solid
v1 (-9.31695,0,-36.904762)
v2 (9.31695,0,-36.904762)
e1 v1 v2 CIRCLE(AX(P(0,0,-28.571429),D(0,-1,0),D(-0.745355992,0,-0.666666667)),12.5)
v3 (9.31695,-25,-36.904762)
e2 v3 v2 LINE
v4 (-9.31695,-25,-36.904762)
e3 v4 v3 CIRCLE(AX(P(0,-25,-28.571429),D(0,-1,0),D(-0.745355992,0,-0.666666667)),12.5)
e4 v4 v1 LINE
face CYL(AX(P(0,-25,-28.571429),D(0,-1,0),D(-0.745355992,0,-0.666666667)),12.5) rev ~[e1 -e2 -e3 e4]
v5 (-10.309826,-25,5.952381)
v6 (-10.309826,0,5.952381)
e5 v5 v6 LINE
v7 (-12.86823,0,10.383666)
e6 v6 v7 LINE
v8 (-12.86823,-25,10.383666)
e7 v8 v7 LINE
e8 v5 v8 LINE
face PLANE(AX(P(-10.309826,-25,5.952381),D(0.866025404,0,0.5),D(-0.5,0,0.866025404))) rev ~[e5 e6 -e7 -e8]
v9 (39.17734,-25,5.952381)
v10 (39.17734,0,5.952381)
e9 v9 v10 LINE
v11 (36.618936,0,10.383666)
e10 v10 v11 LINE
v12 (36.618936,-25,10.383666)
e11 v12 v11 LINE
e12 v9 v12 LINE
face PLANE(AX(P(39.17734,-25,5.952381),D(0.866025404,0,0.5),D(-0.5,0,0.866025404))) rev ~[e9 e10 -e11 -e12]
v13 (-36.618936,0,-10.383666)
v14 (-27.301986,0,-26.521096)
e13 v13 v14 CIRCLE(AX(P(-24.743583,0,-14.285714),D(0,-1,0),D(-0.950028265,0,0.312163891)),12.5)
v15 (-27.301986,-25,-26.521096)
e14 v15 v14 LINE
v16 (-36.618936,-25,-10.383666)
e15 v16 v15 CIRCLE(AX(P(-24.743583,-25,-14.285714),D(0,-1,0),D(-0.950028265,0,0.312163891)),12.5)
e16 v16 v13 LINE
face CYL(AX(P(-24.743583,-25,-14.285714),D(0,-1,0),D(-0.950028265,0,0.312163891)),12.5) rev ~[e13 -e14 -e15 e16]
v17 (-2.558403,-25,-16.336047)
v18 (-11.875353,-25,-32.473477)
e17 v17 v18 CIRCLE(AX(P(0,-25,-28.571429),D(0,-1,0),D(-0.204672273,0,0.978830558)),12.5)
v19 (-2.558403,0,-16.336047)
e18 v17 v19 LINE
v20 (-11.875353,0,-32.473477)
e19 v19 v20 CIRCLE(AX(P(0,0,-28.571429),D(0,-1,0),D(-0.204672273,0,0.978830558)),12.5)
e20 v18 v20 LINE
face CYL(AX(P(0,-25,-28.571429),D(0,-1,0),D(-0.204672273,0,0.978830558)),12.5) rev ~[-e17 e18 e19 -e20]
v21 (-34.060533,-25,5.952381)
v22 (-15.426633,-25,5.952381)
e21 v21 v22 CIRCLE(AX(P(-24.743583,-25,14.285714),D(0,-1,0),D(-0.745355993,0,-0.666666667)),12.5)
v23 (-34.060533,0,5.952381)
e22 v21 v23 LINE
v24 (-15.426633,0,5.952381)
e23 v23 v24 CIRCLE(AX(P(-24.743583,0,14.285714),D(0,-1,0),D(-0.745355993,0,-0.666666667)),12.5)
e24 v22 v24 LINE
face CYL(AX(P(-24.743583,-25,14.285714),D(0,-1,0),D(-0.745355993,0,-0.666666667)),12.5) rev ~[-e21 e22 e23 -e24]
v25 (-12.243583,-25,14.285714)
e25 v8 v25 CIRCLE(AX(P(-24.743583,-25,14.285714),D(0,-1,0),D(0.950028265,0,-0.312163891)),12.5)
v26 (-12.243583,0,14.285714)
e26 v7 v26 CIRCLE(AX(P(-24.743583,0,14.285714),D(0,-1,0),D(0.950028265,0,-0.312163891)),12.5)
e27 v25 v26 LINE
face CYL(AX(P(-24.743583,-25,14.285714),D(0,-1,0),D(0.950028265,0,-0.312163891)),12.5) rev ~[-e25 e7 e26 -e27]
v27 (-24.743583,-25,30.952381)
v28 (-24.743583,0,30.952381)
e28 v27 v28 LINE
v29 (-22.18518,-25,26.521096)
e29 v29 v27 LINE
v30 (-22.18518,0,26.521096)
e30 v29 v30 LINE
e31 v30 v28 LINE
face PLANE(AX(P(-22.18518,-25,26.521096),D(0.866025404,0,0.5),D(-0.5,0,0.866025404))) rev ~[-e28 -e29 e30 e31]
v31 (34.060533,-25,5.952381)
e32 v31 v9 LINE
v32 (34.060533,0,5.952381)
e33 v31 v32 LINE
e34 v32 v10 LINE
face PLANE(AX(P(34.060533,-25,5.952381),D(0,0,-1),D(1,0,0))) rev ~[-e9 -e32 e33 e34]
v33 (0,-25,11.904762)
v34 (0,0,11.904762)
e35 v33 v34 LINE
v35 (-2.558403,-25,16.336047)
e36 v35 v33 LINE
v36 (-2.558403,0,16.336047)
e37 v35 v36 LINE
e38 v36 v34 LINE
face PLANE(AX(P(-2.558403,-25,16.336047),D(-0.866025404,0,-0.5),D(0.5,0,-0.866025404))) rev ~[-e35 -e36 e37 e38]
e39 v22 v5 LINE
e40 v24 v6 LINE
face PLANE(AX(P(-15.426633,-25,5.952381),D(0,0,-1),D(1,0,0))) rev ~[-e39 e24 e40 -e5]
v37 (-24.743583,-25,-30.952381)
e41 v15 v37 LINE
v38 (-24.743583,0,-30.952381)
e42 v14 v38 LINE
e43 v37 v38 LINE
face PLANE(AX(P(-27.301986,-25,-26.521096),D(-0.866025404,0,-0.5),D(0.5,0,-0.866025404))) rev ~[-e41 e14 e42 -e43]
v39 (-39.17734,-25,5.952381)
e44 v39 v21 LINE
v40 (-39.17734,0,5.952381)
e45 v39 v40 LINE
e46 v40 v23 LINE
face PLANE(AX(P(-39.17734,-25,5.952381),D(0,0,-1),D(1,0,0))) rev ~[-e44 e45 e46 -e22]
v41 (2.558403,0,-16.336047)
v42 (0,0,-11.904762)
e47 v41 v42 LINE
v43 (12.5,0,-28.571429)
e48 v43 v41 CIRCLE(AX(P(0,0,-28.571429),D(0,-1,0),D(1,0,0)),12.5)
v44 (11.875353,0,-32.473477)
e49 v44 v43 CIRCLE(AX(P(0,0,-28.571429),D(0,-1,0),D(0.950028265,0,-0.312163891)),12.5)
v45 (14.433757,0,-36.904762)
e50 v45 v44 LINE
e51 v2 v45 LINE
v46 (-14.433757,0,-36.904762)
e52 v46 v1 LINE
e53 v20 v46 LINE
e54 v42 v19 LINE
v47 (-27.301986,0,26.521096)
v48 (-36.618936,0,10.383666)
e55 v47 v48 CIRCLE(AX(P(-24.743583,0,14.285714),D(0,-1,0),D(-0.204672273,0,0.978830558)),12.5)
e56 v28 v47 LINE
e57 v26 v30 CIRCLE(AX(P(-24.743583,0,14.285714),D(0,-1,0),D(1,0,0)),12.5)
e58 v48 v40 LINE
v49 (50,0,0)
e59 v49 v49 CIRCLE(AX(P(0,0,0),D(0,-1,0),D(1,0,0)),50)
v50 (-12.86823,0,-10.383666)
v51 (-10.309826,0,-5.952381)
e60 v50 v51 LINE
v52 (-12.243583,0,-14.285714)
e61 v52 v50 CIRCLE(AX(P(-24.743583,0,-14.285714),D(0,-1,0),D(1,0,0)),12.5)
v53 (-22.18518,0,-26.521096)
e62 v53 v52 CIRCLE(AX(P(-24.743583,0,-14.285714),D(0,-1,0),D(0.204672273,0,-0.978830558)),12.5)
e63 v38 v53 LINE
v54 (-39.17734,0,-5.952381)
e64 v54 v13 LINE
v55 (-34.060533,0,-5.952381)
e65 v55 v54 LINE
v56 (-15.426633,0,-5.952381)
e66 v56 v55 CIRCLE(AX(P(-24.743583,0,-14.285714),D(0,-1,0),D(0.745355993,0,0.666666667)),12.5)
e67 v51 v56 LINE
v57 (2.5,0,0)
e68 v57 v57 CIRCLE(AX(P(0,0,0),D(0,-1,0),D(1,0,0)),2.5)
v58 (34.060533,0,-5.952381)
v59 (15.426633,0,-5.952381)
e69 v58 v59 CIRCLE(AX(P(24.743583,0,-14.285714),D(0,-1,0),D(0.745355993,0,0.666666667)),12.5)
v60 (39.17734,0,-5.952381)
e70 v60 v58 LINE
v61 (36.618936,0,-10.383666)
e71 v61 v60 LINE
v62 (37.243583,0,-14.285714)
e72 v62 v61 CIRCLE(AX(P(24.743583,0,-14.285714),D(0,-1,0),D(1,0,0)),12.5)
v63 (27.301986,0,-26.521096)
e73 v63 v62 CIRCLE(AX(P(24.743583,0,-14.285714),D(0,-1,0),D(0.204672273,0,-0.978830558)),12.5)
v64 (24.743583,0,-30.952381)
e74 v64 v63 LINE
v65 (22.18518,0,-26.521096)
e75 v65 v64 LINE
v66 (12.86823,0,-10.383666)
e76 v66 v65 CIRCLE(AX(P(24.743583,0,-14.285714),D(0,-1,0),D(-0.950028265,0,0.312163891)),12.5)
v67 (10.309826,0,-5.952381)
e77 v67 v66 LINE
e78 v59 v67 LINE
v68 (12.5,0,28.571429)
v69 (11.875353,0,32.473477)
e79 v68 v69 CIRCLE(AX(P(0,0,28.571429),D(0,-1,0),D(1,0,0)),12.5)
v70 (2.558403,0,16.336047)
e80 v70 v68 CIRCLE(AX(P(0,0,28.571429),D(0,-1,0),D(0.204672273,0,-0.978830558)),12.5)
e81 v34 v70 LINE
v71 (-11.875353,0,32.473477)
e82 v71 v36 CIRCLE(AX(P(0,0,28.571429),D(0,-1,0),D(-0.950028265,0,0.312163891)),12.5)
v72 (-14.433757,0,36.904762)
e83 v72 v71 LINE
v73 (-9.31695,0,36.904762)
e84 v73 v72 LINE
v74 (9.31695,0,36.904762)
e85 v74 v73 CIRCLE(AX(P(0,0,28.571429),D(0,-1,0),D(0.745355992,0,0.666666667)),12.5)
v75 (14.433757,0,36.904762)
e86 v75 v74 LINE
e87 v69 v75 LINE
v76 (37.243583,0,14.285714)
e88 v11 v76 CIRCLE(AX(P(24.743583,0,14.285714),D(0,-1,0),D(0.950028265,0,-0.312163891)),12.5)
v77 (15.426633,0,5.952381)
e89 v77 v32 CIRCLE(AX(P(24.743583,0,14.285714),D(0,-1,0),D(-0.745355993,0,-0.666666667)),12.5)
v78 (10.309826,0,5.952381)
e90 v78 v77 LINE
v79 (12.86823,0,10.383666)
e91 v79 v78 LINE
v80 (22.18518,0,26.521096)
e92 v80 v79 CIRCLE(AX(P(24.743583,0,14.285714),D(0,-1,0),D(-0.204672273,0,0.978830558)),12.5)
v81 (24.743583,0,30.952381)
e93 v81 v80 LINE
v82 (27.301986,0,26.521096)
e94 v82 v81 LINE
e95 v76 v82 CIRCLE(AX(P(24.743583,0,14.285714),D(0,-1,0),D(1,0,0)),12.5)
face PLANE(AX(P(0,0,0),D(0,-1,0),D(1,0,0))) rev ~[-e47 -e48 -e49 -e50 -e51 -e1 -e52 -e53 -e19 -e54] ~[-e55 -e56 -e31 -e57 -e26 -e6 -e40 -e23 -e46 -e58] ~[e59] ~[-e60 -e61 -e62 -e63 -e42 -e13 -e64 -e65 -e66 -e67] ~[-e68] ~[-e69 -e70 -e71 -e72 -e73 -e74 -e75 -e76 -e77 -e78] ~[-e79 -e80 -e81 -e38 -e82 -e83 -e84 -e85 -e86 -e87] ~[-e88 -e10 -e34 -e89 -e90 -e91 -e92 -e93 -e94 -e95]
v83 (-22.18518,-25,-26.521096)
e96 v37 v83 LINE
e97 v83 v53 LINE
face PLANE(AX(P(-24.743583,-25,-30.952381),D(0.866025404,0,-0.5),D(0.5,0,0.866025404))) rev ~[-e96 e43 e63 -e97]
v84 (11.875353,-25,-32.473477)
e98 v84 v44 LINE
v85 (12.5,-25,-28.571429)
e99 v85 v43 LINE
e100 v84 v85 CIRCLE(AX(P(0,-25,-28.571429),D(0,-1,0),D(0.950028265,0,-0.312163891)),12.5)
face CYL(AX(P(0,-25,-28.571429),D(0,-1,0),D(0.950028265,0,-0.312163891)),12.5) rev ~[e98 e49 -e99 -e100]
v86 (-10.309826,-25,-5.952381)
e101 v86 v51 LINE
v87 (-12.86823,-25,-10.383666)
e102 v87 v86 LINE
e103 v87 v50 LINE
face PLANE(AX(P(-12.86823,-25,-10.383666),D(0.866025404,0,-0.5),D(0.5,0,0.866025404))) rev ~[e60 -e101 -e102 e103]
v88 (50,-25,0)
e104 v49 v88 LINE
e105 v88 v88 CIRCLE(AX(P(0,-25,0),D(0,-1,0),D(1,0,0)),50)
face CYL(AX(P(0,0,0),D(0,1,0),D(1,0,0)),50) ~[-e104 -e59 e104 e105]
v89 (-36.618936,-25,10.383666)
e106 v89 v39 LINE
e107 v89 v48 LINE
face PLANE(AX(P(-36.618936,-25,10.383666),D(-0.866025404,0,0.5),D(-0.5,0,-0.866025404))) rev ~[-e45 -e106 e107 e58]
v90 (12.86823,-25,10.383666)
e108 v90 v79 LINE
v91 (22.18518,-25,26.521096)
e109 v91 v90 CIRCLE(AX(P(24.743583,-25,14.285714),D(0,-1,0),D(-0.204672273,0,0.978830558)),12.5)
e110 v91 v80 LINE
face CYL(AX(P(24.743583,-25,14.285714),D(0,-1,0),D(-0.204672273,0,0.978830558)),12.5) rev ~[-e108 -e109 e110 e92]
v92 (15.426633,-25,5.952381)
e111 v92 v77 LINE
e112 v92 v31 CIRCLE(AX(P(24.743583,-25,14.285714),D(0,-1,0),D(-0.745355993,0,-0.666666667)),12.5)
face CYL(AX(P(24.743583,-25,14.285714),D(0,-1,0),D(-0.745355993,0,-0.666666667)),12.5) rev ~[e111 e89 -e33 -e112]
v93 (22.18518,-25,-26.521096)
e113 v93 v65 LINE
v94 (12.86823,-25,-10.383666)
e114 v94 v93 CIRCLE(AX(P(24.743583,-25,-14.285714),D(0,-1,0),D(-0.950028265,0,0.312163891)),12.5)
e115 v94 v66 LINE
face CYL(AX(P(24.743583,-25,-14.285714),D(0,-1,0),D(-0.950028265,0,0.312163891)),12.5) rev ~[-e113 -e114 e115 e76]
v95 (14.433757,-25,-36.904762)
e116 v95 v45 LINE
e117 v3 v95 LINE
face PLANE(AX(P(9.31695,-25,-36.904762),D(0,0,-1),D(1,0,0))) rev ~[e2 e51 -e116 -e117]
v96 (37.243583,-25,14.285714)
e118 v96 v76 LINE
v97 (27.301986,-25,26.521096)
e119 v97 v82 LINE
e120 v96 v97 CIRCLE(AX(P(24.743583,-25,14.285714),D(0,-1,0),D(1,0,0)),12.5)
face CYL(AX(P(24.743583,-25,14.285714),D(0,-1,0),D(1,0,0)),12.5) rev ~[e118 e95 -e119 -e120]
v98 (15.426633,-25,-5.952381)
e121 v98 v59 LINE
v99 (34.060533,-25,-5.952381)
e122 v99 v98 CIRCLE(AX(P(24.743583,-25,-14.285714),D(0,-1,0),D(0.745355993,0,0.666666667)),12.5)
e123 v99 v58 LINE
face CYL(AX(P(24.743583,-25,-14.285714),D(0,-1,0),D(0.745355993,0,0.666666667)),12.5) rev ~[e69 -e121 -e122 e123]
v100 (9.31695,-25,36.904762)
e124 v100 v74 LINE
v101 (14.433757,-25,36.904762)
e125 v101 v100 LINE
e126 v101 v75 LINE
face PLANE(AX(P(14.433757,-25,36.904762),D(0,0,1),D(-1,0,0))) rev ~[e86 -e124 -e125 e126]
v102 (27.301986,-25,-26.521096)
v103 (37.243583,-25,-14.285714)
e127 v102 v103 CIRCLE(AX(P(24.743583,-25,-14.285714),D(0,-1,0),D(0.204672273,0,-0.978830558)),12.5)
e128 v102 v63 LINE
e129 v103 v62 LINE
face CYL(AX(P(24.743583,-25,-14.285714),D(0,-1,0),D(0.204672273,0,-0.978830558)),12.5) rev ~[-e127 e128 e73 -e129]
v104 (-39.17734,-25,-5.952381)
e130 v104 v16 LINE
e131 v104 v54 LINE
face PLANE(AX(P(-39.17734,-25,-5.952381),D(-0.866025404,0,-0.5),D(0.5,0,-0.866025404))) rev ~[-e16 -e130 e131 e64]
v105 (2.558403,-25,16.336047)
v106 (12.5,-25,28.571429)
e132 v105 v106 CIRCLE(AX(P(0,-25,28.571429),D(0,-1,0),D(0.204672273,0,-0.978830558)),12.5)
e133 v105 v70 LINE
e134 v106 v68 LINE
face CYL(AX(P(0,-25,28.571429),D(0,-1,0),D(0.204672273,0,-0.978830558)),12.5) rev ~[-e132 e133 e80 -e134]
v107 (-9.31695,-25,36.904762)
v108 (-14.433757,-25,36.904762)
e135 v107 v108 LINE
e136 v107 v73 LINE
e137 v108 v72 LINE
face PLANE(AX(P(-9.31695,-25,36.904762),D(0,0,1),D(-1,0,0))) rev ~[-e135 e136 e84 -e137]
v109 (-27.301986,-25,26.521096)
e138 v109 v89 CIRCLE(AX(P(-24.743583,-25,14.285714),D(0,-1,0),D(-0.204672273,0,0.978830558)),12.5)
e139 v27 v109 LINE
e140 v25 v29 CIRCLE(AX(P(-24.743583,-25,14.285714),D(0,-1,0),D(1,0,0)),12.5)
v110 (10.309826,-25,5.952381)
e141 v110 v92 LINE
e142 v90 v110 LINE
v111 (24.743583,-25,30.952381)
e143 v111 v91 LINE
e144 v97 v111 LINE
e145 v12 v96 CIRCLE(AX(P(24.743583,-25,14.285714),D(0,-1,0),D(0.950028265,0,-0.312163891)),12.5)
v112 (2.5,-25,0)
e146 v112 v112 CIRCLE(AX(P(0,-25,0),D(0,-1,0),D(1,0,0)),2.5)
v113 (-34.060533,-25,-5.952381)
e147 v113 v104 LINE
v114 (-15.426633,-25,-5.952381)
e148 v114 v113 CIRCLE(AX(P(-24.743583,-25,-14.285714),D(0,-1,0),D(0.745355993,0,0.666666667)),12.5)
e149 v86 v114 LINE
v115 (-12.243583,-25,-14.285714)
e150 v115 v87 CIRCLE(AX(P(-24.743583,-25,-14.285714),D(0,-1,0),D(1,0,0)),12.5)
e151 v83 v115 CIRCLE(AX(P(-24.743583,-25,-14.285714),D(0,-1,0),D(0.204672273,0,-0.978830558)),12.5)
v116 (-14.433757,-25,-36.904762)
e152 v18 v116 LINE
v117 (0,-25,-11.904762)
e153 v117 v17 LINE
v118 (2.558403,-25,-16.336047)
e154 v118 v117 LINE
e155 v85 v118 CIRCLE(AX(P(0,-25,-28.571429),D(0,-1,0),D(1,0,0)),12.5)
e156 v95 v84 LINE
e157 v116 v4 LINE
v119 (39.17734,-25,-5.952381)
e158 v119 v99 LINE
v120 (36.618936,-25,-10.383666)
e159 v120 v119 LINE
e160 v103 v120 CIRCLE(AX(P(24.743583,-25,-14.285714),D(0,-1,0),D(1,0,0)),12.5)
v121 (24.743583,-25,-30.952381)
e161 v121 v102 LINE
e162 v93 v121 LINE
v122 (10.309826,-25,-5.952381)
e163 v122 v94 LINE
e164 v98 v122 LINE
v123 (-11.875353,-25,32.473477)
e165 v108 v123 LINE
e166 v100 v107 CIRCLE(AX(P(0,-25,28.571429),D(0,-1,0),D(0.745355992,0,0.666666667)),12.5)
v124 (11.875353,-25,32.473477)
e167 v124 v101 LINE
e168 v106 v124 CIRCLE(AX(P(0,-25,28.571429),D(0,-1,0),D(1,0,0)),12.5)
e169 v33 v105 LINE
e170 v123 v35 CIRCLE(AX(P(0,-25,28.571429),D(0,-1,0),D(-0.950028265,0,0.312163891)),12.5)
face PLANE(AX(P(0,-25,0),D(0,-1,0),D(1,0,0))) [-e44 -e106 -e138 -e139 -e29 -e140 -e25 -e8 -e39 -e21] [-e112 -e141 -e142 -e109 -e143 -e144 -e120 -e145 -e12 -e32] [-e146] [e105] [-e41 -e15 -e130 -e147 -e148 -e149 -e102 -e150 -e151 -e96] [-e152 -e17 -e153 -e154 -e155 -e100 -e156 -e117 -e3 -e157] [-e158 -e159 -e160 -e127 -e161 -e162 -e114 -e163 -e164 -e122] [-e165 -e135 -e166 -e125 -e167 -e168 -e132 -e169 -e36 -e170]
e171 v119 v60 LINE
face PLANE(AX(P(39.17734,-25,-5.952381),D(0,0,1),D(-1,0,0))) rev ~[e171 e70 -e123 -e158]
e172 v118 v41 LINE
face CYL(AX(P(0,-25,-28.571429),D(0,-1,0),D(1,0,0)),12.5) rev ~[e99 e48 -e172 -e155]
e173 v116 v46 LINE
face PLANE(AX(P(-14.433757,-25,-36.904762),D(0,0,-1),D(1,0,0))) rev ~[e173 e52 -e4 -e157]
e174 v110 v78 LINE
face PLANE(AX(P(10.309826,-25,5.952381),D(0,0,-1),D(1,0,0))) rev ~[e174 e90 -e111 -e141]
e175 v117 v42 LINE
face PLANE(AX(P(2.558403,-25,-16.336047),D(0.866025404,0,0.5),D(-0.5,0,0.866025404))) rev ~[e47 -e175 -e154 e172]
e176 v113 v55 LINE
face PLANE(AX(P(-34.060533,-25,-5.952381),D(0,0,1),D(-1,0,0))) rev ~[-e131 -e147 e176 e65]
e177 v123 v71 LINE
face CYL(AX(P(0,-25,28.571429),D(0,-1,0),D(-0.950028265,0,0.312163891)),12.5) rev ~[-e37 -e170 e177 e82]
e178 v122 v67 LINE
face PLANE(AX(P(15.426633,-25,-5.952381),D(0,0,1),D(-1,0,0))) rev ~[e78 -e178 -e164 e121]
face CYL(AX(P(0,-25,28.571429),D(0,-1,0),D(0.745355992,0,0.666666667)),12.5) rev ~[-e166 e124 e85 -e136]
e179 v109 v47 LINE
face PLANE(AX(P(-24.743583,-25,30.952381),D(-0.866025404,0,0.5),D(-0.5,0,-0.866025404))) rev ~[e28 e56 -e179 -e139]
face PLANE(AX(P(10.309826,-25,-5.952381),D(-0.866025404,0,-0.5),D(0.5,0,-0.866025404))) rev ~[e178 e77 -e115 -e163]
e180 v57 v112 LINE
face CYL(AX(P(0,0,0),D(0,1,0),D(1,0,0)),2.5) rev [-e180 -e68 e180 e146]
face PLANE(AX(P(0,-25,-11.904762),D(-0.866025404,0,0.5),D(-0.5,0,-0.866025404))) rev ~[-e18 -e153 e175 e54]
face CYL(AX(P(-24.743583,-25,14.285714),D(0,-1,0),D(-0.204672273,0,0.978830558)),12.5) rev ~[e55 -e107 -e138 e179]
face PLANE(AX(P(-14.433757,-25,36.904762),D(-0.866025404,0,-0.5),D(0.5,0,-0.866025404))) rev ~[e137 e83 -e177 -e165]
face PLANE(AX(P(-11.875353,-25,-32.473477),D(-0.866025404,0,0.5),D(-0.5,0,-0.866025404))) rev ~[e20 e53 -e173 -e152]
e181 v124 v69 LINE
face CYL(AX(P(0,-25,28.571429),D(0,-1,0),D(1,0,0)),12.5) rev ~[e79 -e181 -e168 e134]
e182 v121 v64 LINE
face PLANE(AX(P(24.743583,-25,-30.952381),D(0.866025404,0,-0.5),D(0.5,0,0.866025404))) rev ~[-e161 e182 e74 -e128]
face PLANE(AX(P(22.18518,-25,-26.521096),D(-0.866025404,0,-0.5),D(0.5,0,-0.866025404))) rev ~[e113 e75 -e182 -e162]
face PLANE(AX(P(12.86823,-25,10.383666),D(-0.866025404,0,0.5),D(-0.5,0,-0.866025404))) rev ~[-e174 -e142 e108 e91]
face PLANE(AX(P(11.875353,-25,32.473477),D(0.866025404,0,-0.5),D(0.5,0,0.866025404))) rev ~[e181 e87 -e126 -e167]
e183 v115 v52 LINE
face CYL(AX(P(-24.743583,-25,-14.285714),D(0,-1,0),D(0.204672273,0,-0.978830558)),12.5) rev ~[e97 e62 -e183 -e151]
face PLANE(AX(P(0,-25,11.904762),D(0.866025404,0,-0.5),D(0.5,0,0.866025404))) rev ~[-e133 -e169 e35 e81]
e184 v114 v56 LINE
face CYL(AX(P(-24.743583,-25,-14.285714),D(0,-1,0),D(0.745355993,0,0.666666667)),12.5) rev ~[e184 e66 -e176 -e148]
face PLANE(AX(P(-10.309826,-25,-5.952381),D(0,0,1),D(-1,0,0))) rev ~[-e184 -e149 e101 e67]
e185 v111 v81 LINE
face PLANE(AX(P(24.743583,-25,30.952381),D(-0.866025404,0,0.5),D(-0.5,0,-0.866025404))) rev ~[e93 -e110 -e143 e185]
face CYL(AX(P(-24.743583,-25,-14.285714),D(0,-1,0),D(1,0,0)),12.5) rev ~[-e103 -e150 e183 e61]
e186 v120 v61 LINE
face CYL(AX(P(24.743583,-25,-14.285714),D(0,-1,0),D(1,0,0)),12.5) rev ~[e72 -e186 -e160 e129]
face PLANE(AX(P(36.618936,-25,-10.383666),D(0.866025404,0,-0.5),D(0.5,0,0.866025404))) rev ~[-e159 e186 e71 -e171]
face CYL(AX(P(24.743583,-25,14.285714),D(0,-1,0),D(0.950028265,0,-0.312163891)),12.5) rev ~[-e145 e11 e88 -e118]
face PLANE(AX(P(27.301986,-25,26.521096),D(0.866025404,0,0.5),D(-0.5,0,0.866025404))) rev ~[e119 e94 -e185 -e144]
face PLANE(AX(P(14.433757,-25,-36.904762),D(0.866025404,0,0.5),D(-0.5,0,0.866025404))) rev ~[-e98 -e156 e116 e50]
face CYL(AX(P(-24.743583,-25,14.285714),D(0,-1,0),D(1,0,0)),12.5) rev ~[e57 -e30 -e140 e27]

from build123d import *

# Parameters (mm, degrees)
F0_R     = 50
F0_R_2   = 2.5
F1_DEPTH = 25
F3_DEPTH = 25
F4_DEPTH = 25


with BuildPart() as f1:
    # F0 (on Front) → F1 (new body)
    with BuildSketch(Plane.XZ):
        Circle(F0_R)
        Circle(F0_R_2, mode=Mode.SUBTRACT)
    extrude(amount=F1_DEPTH)

    # F2 (on face) → F3 (cut)
    with BuildSketch(Plane.XZ.offset(25)):
        with BuildLine():
            Line((11.875353318, 32.4734772094), (14.4337567297, 36.9047619048))
            Line((14.4337567297, 36.9047619048), (9.3169499062, 36.9047619048))
            ThreePointArc((9.3169499062, 36.9047619048), (10.8253175473, 34.8214285714), (11.875353318, 32.4734772094))
        make_face()
        with BuildLine():
            ThreePointArc((12.5, 28.5714285714), (12.3428504908, 30.5472933853), (11.875353318, 32.4734772094))
            Line((11.875353318, 32.4734772094), (2.5584034117, 16.3360466002))
            ThreePointArc((2.5584034117, 16.3360466002), (9.7012896732, 20.6888542028), (12.5, 28.5714285714))
        make_face()
        with BuildLine():
            Line((2.5584034117, 16.3360466002), (11.875353318, 32.4734772094))
            ThreePointArc((11.875353318, 32.4734772094), (10.8253175473, 34.8214285714), (9.3169499062, 36.9047619048))
            Line((9.3169499062, 36.9047619048), (-9.3169499062, 36.9047619048))
            ThreePointArc((-9.3169499062, 36.9047619048), (-10.8253175473, 34.8214285714), (-11.875353318, 32.4734772094))
            Line((-11.875353318, 32.4734772094), (-2.5584034117, 16.3360466002))
            ThreePointArc((-2.5584034117, 16.3360466002), (0, 16.0714285714), (2.5584034117, 16.3360466002))
        make_face()
        with BuildLine():
            Line((-9.3169499062, 36.9047619048), (9.3169499062, 36.9047619048))
            ThreePointArc((9.3169499062, 36.9047619048), (0, 41.0714285714), (-9.3169499062, 36.9047619048))
        make_face()
        with BuildLine():
            Line((0, 11.9047619048), (2.5584034117, 16.3360466002))
            ThreePointArc((2.5584034117, 16.3360466002), (0, 16.0714285714), (-2.5584034117, 16.3360466002))
            Line((-2.5584034117, 16.3360466002), (0, 11.9047619048))
        make_face()
        with BuildLine():
            ThreePointArc((-11.875353318, 32.4734772094), (-10.8253175473, 34.8214285714), (-9.3169499062, 36.9047619048))
            Line((-9.3169499062, 36.9047619048), (-14.4337567297, 36.9047619048))
            Line((-14.4337567297, 36.9047619048), (-11.875353318, 32.4734772094))
        make_face()
        with BuildLine():
            ThreePointArc((-11.875353318, 32.4734772094), (-10.8253175473, 22.3214285714), (-2.5584034117, 16.3360466002))
            Line((-2.5584034117, 16.3360466002), (-11.875353318, 32.4734772094))
        make_face()
        with BuildLine():
            Line((27.301986377, 26.521096257), (24.7435829653, 30.9523809524))
            Line((24.7435829653, 30.9523809524), (22.1851795535, 26.521096257))
            ThreePointArc((22.1851795535, 26.521096257), (24.7435829653, 26.7857142857), (27.301986377, 26.521096257))
        make_face()
        with BuildLine():
            ThreePointArc((37.2435829653, 14.2857142857), (34.4448726385, 22.1682886543), (27.301986377, 26.521096257))
            Line((27.301986377, 26.521096257), (36.6189362833, 10.3836656478))
            ThreePointArc((36.6189362833, 10.3836656478), (37.086433456, 12.3098494719), (37.2435829653, 14.2857142857))
        make_face()
        with BuildLine():
            Line((36.6189362833, 10.3836656478), (27.301986377, 26.521096257))
            ThreePointArc((27.301986377, 26.521096257), (24.7435829653, 26.7857142857), (22.1851795535, 26.521096257))
            Line((22.1851795535, 26.521096257), (12.8682296473, 10.3836656478))
            ThreePointArc((12.8682296473, 10.3836656478), (13.918265418, 8.0357142857), (15.426633059, 5.9523809524))
            Line((15.426633059, 5.9523809524), (34.0605328715, 5.9523809524))
            ThreePointArc((34.0605328715, 5.9523809524), (35.5689005126, 8.0357142857), (36.6189362833, 10.3836656478))
        make_face()
        with BuildLine():
            Line((12.8682296473, 10.3836656478), (22.1851795535, 26.521096257))
            ThreePointArc((22.1851795535, 26.521096257), (13.918265418, 20.5357142857), (12.8682296473, 10.3836656478))
        make_face()
        with BuildLine():
            Line((39.177339695, 5.9523809524), (36.6189362833, 10.3836656478))
            ThreePointArc((36.6189362833, 10.3836656478), (35.5689005126, 8.0357142857), (34.0605328715, 5.9523809524))
            Line((34.0605328715, 5.9523809524), (39.177339695, 5.9523809524))
        make_face()
        with BuildLine():
            ThreePointArc((15.426633059, 5.9523809524), (13.918265418, 8.0357142857), (12.8682296473, 10.3836656478))
            Line((12.8682296473, 10.3836656478), (10.3098262355, 5.9523809524))
            Line((10.3098262355, 5.9523809524), (15.426633059, 5.9523809524))
        make_face()
        with BuildLine():
            ThreePointArc((15.426633059, 5.9523809524), (24.7435829653, 1.7857142857), (34.0605328715, 5.9523809524))
            Line((34.0605328715, 5.9523809524), (15.426633059, 5.9523809524))
        make_face()
        with BuildLine():
            Line((-36.6189362833, 10.3836656478), (-39.177339695, 5.9523809524))
            Line((-39.177339695, 5.9523809524), (-34.0605328715, 5.9523809524))
            ThreePointArc((-34.0605328715, 5.9523809524), (-35.5689005126, 8.0357142857), (-36.6189362833, 10.3836656478))
        make_face()
        with BuildLine():
            ThreePointArc((-27.301986377, 26.521096257), (-35.5689005126, 20.5357142857), (-36.6189362833, 10.3836656478))
            Line((-36.6189362833, 10.3836656478), (-27.301986377, 26.521096257))
        make_face()
        with BuildLine():
            Line((-27.301986377, 26.521096257), (-36.6189362833, 10.3836656478))
            ThreePointArc((-36.6189362833, 10.3836656478), (-35.5689005126, 8.0357142857), (-34.0605328715, 5.9523809524))
            Line((-34.0605328715, 5.9523809524), (-15.426633059, 5.9523809524))
            ThreePointArc((-15.426633059, 5.9523809524), (-13.918265418, 8.0357142857), (-12.8682296473, 10.3836656478))
            Line((-12.8682296473, 10.3836656478), (-22.1851795535, 26.521096257))
            ThreePointArc((-22.1851795535, 26.521096257), (-24.7435829653, 26.7857142857), (-27.301986377, 26.521096257))
        make_face()
        with BuildLine():
            Line((-15.426633059, 5.9523809524), (-34.0605328715, 5.9523809524))
            ThreePointArc((-34.0605328715, 5.9523809524), (-24.7435829653, 1.7857142857), (-15.426633059, 5.9523809524))
        make_face()
        with BuildLine():
            Line((-24.7435829653, 30.9523809524), (-27.301986377, 26.521096257))
            ThreePointArc((-27.301986377, 26.521096257), (-24.7435829653, 26.7857142857), (-22.1851795535, 26.521096257))
            Line((-22.1851795535, 26.521096257), (-24.7435829653, 30.9523809524))
        make_face()
        with BuildLine():
            ThreePointArc((-12.8682296473, 10.3836656478), (-13.918265418, 8.0357142857), (-15.426633059, 5.9523809524))
            Line((-15.426633059, 5.9523809524), (-10.3098262355, 5.9523809524))
            Line((-10.3098262355, 5.9523809524), (-12.8682296473, 10.3836656478))
        make_face()
        with BuildLine():
            ThreePointArc((-12.2435829653, 14.2857142857), (-15.0422932921, 22.1682886543), (-22.1851795535, 26.521096257))
            Line((-22.1851795535, 26.521096257), (-12.8682296473, 10.3836656478))
            ThreePointArc((-12.8682296473, 10.3836656478), (-12.4007324745, 12.3098494719), (-12.2435829653, 14.2857142857))
        make_face()
        with BuildLine():
            Line((-12.8682296473, -10.3836656478), (-10.3098262355, -5.9523809524))
            Line((-10.3098262355, -5.9523809524), (-15.426633059, -5.9523809524))
            ThreePointArc((-15.426633059, -5.9523809524), (-13.918265418, -8.0357142857), (-12.8682296473, -10.3836656478))
        make_face()
        with BuildLine():
            ThreePointArc((-12.2435829653, -14.2857142857), (-12.4007324745, -12.3098494719), (-12.8682296473, -10.3836656478))
            Line((-12.8682296473, -10.3836656478), (-22.1851795535, -26.521096257))
            ThreePointArc((-22.1851795535, -26.521096257), (-15.0422932921, -22.1682886543), (-12.2435829653, -14.2857142857))
        make_face()
        with BuildLine():
            Line((-22.1851795535, -26.521096257), (-12.8682296473, -10.3836656478))
            ThreePointArc((-12.8682296473, -10.3836656478), (-13.918265418, -8.0357142857), (-15.426633059, -5.9523809524))
            Line((-15.426633059, -5.9523809524), (-34.0605328715, -5.9523809524))
            ThreePointArc((-34.0605328715, -5.9523809524), (-35.5689005126, -8.0357142857), (-36.6189362833, -10.3836656478))
            Line((-36.6189362833, -10.3836656478), (-27.301986377, -26.521096257))
            ThreePointArc((-27.301986377, -26.521096257), (-24.7435829653, -26.7857142857), (-22.1851795535, -26.521096257))
        make_face()
        with BuildLine():
            Line((-34.0605328715, -5.9523809524), (-15.426633059, -5.9523809524))
            ThreePointArc((-15.426633059, -5.9523809524), (-24.7435829653, -1.7857142857), (-34.0605328715, -5.9523809524))
        make_face()
        with BuildLine():
            Line((-24.7435829653, -30.9523809524), (-22.1851795535, -26.521096257))
            ThreePointArc((-22.1851795535, -26.521096257), (-24.7435829653, -26.7857142857), (-27.301986377, -26.521096257))
            Line((-27.301986377, -26.521096257), (-24.7435829653, -30.9523809524))
        make_face()
        with BuildLine():
            ThreePointArc((-36.6189362833, -10.3836656478), (-35.5689005126, -8.0357142857), (-34.0605328715, -5.9523809524))
            Line((-34.0605328715, -5.9523809524), (-39.177339695, -5.9523809524))
            Line((-39.177339695, -5.9523809524), (-36.6189362833, -10.3836656478))
        make_face()
        with BuildLine():
            ThreePointArc((-36.6189362833, -10.3836656478), (-35.5689005126, -20.5357142857), (-27.301986377, -26.521096257))
            Line((-27.301986377, -26.521096257), (-36.6189362833, -10.3836656478))
        make_face()
        with BuildLine():
            Line((9.3169499062, -36.9047619048), (14.4337567297, -36.9047619048))
            Line((14.4337567297, -36.9047619048), (11.875353318, -32.4734772094))
            ThreePointArc((11.875353318, -32.4734772094), (10.8253175473, -34.8214285714), (9.3169499062, -36.9047619048))
        make_face()
        with BuildLine():
            ThreePointArc((-9.3169499062, -36.9047619048), (0, -41.0714285714), (9.3169499062, -36.9047619048))
            Line((9.3169499062, -36.9047619048), (-9.3169499062, -36.9047619048))
        make_face()
        with BuildLine():
            Line((-9.3169499062, -36.9047619048), (9.3169499062, -36.9047619048))
            ThreePointArc((9.3169499062, -36.9047619048), (10.8253175473, -34.8214285714), (11.875353318, -32.4734772094))
            Line((11.875353318, -32.4734772094), (2.5584034117, -16.3360466002))
            ThreePointArc((2.5584034117, -16.3360466002), (0, -16.0714285714), (-2.5584034117, -16.3360466002))
            Line((-2.5584034117, -16.3360466002), (-11.875353318, -32.4734772094))
            ThreePointArc((-11.875353318, -32.4734772094), (-10.8253175473, -34.8214285714), (-9.3169499062, -36.9047619048))
        make_face()
        with BuildLine():
            Line((2.5584034117, -16.3360466002), (11.875353318, -32.4734772094))
            ThreePointArc((11.875353318, -32.4734772094), (12.3428504908, -30.5472933853), (12.5, -28.5714285714))
            ThreePointArc((12.5, -28.5714285714), (9.7012896732, -20.6888542028), (2.5584034117, -16.3360466002))
        make_face()
        with BuildLine():
            Line((-14.4337567297, -36.9047619048), (-9.3169499062, -36.9047619048))
            ThreePointArc((-9.3169499062, -36.9047619048), (-10.8253175473, -34.8214285714), (-11.875353318, -32.4734772094))
            Line((-11.875353318, -32.4734772094), (-14.4337567297, -36.9047619048))
        make_face()
        with BuildLine():
            ThreePointArc((-2.5584034117, -16.3360466002), (0, -16.0714285714), (2.5584034117, -16.3360466002))
            Line((2.5584034117, -16.3360466002), (0, -11.9047619048))
            Line((0, -11.9047619048), (-2.5584034117, -16.3360466002))
        make_face()
        with BuildLine():
            ThreePointArc((-2.5584034117, -16.3360466002), (-10.8253175473, -22.3214285714), (-11.875353318, -32.4734772094))
            Line((-11.875353318, -32.4734772094), (-2.5584034117, -16.3360466002))
        make_face()
        with BuildLine():
            Line((15.426633059, -5.9523809524), (10.3098262355, -5.9523809524))
            Line((10.3098262355, -5.9523809524), (12.8682296473, -10.3836656478))
            ThreePointArc((12.8682296473, -10.3836656478), (13.918265418, -8.0357142857), (15.426633059, -5.9523809524))
        make_face()
        with BuildLine():
            ThreePointArc((34.0605328715, -5.9523809524), (24.7435829653, -1.7857142857), (15.426633059, -5.9523809524))
            Line((15.426633059, -5.9523809524), (34.0605328715, -5.9523809524))
        make_face()
        with BuildLine():
            Line((34.0605328715, -5.9523809524), (15.426633059, -5.9523809524))
            ThreePointArc((15.426633059, -5.9523809524), (13.918265418, -8.0357142857), (12.8682296473, -10.3836656478))
            Line((12.8682296473, -10.3836656478), (22.1851795535, -26.521096257))
            ThreePointArc((22.1851795535, -26.521096257), (24.7435829653, -26.7857142857), (27.301986377, -26.521096257))
            Line((27.301986377, -26.521096257), (36.6189362833, -10.3836656478))
            ThreePointArc((36.6189362833, -10.3836656478), (35.5689005126, -8.0357142857), (34.0605328715, -5.9523809524))
        make_face()
        with BuildLine():
            Line((22.1851795535, -26.521096257), (12.8682296473, -10.3836656478))
            ThreePointArc((12.8682296473, -10.3836656478), (13.918265418, -20.5357142857), (22.1851795535, -26.521096257))
        make_face()
        with BuildLine():
            Line((39.177339695, -5.9523809524), (34.0605328715, -5.9523809524))
            ThreePointArc((34.0605328715, -5.9523809524), (35.5689005126, -8.0357142857), (36.6189362833, -10.3836656478))
            Line((36.6189362833, -10.3836656478), (39.177339695, -5.9523809524))
        make_face()
        with BuildLine():
            ThreePointArc((27.301986377, -26.521096257), (24.7435829653, -26.7857142857), (22.1851795535, -26.521096257))
            Line((22.1851795535, -26.521096257), (24.7435829653, -30.9523809524))
            Line((24.7435829653, -30.9523809524), (27.301986377, -26.521096257))
        make_face()
        with BuildLine():
            ThreePointArc((37.2435829653, -14.2857142857), (37.086433456, -12.3098494719), (36.6189362833, -10.3836656478))
            Line((36.6189362833, -10.3836656478), (27.301986377, -26.521096257))
            ThreePointArc((27.301986377, -26.521096257), (34.4448726385, -22.1682886543), (37.2435829653, -14.2857142857))
        make_face()
    extrude(amount=-F3_DEPTH, mode=Mode.SUBTRACT)

    # F2 (on face) → F4 (cut)
    with BuildSketch(Plane.XZ.offset(25)):
        with BuildLine():
            Line((11.875353318, 32.4734772094), (14.4337567297, 36.9047619048))
            Line((14.4337567297, 36.9047619048), (9.3169499062, 36.9047619048))
            ThreePointArc((9.3169499062, 36.9047619048), (10.8253175473, 34.8214285714), (11.875353318, 32.4734772094))
        make_face()
        with BuildLine():
            ThreePointArc((12.5, 28.5714285714), (12.3428504908, 30.5472933853), (11.875353318, 32.4734772094))
            Line((11.875353318, 32.4734772094), (2.5584034117, 16.3360466002))
            ThreePointArc((2.5584034117, 16.3360466002), (9.7012896732, 20.6888542028), (12.5, 28.5714285714))
        make_face()
        with BuildLine():
            Line((0, 11.9047619048), (2.5584034117, 16.3360466002))
            ThreePointArc((2.5584034117, 16.3360466002), (0, 16.0714285714), (-2.5584034117, 16.3360466002))
            Line((-2.5584034117, 16.3360466002), (0, 11.9047619048))
        make_face()
        with BuildLine():
            ThreePointArc((-11.875353318, 32.4734772094), (-10.8253175473, 22.3214285714), (-2.5584034117, 16.3360466002))
            Line((-2.5584034117, 16.3360466002), (-11.875353318, 32.4734772094))
        make_face()
        with BuildLine():
            ThreePointArc((-11.875353318, 32.4734772094), (-10.8253175473, 34.8214285714), (-9.3169499062, 36.9047619048))
            Line((-9.3169499062, 36.9047619048), (-14.4337567297, 36.9047619048))
            Line((-14.4337567297, 36.9047619048), (-11.875353318, 32.4734772094))
        make_face()
        with BuildLine():
            Line((-9.3169499062, 36.9047619048), (9.3169499062, 36.9047619048))
            ThreePointArc((9.3169499062, 36.9047619048), (0, 41.0714285714), (-9.3169499062, 36.9047619048))
        make_face()
        with BuildLine():
            Line((27.301986377, 26.521096257), (24.7435829653, 30.9523809524))
            Line((24.7435829653, 30.9523809524), (22.1851795535, 26.521096257))
            ThreePointArc((22.1851795535, 26.521096257), (24.7435829653, 26.7857142857), (27.301986377, 26.521096257))
        make_face()
        with BuildLine():
            ThreePointArc((37.2435829653, 14.2857142857), (34.4448726385, 22.1682886543), (27.301986377, 26.521096257))
            Line((27.301986377, 26.521096257), (36.6189362833, 10.3836656478))
            ThreePointArc((36.6189362833, 10.3836656478), (37.086433456, 12.3098494719), (37.2435829653, 14.2857142857))
        make_face()
        with BuildLine():
            Line((39.177339695, 5.9523809524), (36.6189362833, 10.3836656478))
            ThreePointArc((36.6189362833, 10.3836656478), (35.5689005126, 8.0357142857), (34.0605328715, 5.9523809524))
            Line((34.0605328715, 5.9523809524), (39.177339695, 5.9523809524))
        make_face()
        with BuildLine():
            ThreePointArc((15.426633059, 5.9523809524), (24.7435829653, 1.7857142857), (34.0605328715, 5.9523809524))
            Line((34.0605328715, 5.9523809524), (15.426633059, 5.9523809524))
        make_face()
        with BuildLine():
            ThreePointArc((15.426633059, 5.9523809524), (13.918265418, 8.0357142857), (12.8682296473, 10.3836656478))
            Line((12.8682296473, 10.3836656478), (10.3098262355, 5.9523809524))
            Line((10.3098262355, 5.9523809524), (15.426633059, 5.9523809524))
        make_face()
        with BuildLine():
            Line((12.8682296473, 10.3836656478), (22.1851795535, 26.521096257))
            ThreePointArc((22.1851795535, 26.521096257), (13.918265418, 20.5357142857), (12.8682296473, 10.3836656478))
        make_face()
        with BuildLine():
            Line((-12.8682296473, -10.3836656478), (-10.3098262355, -5.9523809524))
            Line((-10.3098262355, -5.9523809524), (-15.426633059, -5.9523809524))
            ThreePointArc((-15.426633059, -5.9523809524), (-13.918265418, -8.0357142857), (-12.8682296473, -10.3836656478))
        make_face()
        with BuildLine():
            ThreePointArc((-12.2435829653, -14.2857142857), (-12.4007324745, -12.3098494719), (-12.8682296473, -10.3836656478))
            Line((-12.8682296473, -10.3836656478), (-22.1851795535, -26.521096257))
            ThreePointArc((-22.1851795535, -26.521096257), (-15.0422932921, -22.1682886543), (-12.2435829653, -14.2857142857))
        make_face()
        with BuildLine():
            Line((-24.7435829653, -30.9523809524), (-22.1851795535, -26.521096257))
            ThreePointArc((-22.1851795535, -26.521096257), (-24.7435829653, -26.7857142857), (-27.301986377, -26.521096257))
            Line((-27.301986377, -26.521096257), (-24.7435829653, -30.9523809524))
        make_face()
        with BuildLine():
            ThreePointArc((-36.6189362833, -10.3836656478), (-35.5689005126, -20.5357142857), (-27.301986377, -26.521096257))
            Line((-27.301986377, -26.521096257), (-36.6189362833, -10.3836656478))
        make_face()
        with BuildLine():
            ThreePointArc((-36.6189362833, -10.3836656478), (-35.5689005126, -8.0357142857), (-34.0605328715, -5.9523809524))
            Line((-34.0605328715, -5.9523809524), (-39.177339695, -5.9523809524))
            Line((-39.177339695, -5.9523809524), (-36.6189362833, -10.3836656478))
        make_face()
        with BuildLine():
            Line((-34.0605328715, -5.9523809524), (-15.426633059, -5.9523809524))
            ThreePointArc((-15.426633059, -5.9523809524), (-24.7435829653, -1.7857142857), (-34.0605328715, -5.9523809524))
        make_face()
        with BuildLine():
            Line((9.3169499062, -36.9047619048), (14.4337567297, -36.9047619048))
            Line((14.4337567297, -36.9047619048), (11.875353318, -32.4734772094))
            ThreePointArc((11.875353318, -32.4734772094), (10.8253175473, -34.8214285714), (9.3169499062, -36.9047619048))
        make_face()
        with BuildLine():
            ThreePointArc((-9.3169499062, -36.9047619048), (0, -41.0714285714), (9.3169499062, -36.9047619048))
            Line((9.3169499062, -36.9047619048), (-9.3169499062, -36.9047619048))
        make_face()
        with BuildLine():
            Line((-14.4337567297, -36.9047619048), (-9.3169499062, -36.9047619048))
            ThreePointArc((-9.3169499062, -36.9047619048), (-10.8253175473, -34.8214285714), (-11.875353318, -32.4734772094))
            Line((-11.875353318, -32.4734772094), (-14.4337567297, -36.9047619048))
        make_face()
        with BuildLine():
            ThreePointArc((-2.5584034117, -16.3360466002), (0, -16.0714285714), (2.5584034117, -16.3360466002))
            Line((2.5584034117, -16.3360466002), (0, -11.9047619048))
            Line((0, -11.9047619048), (-2.5584034117, -16.3360466002))
        make_face()
        with BuildLine():
            Line((2.5584034117, -16.3360466002), (11.875353318, -32.4734772094))
            ThreePointArc((11.875353318, -32.4734772094), (12.3428504908, -30.5472933853), (12.5, -28.5714285714))
            ThreePointArc((12.5, -28.5714285714), (9.7012896732, -20.6888542028), (2.5584034117, -16.3360466002))
        make_face()
        with BuildLine():
            ThreePointArc((-2.5584034117, -16.3360466002), (-10.8253175473, -22.3214285714), (-11.875353318, -32.4734772094))
            Line((-11.875353318, -32.4734772094), (-2.5584034117, -16.3360466002))
        make_face()
        with BuildLine():
            Line((15.426633059, -5.9523809524), (10.3098262355, -5.9523809524))
            Line((10.3098262355, -5.9523809524), (12.8682296473, -10.3836656478))
            ThreePointArc((12.8682296473, -10.3836656478), (13.918265418, -8.0357142857), (15.426633059, -5.9523809524))
        make_face()
        with BuildLine():
            ThreePointArc((34.0605328715, -5.9523809524), (24.7435829653, -1.7857142857), (15.426633059, -5.9523809524))
            Line((15.426633059, -5.9523809524), (34.0605328715, -5.9523809524))
        make_face()
        with BuildLine():
            Line((39.177339695, -5.9523809524), (34.0605328715, -5.9523809524))
            ThreePointArc((34.0605328715, -5.9523809524), (35.5689005126, -8.0357142857), (36.6189362833, -10.3836656478))
            Line((36.6189362833, -10.3836656478), (39.177339695, -5.9523809524))
        make_face()
        with BuildLine():
            ThreePointArc((37.2435829653, -14.2857142857), (37.086433456, -12.3098494719), (36.6189362833, -10.3836656478))
            Line((36.6189362833, -10.3836656478), (27.301986377, -26.521096257))
            ThreePointArc((27.301986377, -26.521096257), (34.4448726385, -22.1682886543), (37.2435829653, -14.2857142857))
        make_face()
        with BuildLine():
            ThreePointArc((27.301986377, -26.521096257), (24.7435829653, -26.7857142857), (22.1851795535, -26.521096257))
            Line((22.1851795535, -26.521096257), (24.7435829653, -30.9523809524))
            Line((24.7435829653, -30.9523809524), (27.301986377, -26.521096257))
        make_face()
        with BuildLine():
            Line((22.1851795535, -26.521096257), (12.8682296473, -10.3836656478))
            ThreePointArc((12.8682296473, -10.3836656478), (13.918265418, -20.5357142857), (22.1851795535, -26.521096257))
        make_face()
        with BuildLine():
            Line((2.5584034117, 16.3360466002), (11.875353318, 32.4734772094))
            ThreePointArc((11.875353318, 32.4734772094), (10.8253175473, 34.8214285714), (9.3169499062, 36.9047619048))
            Line((9.3169499062, 36.9047619048), (-9.3169499062, 36.9047619048))
            ThreePointArc((-9.3169499062, 36.9047619048), (-10.8253175473, 34.8214285714), (-11.875353318, 32.4734772094))
            Line((-11.875353318, 32.4734772094), (-2.5584034117, 16.3360466002))
            ThreePointArc((-2.5584034117, 16.3360466002), (0, 16.0714285714), (2.5584034117, 16.3360466002))
        make_face()
        with BuildLine():
            Line((36.6189362833, 10.3836656478), (27.301986377, 26.521096257))
            ThreePointArc((27.301986377, 26.521096257), (24.7435829653, 26.7857142857), (22.1851795535, 26.521096257))
            Line((22.1851795535, 26.521096257), (12.8682296473, 10.3836656478))
            ThreePointArc((12.8682296473, 10.3836656478), (13.918265418, 8.0357142857), (15.426633059, 5.9523809524))
            Line((15.426633059, 5.9523809524), (34.0605328715, 5.9523809524))
            ThreePointArc((34.0605328715, 5.9523809524), (35.5689005126, 8.0357142857), (36.6189362833, 10.3836656478))
        make_face()
        with BuildLine():
            Line((-22.1851795535, -26.521096257), (-12.8682296473, -10.3836656478))
            ThreePointArc((-12.8682296473, -10.3836656478), (-13.918265418, -8.0357142857), (-15.426633059, -5.9523809524))
            Line((-15.426633059, -5.9523809524), (-34.0605328715, -5.9523809524))
            ThreePointArc((-34.0605328715, -5.9523809524), (-35.5689005126, -8.0357142857), (-36.6189362833, -10.3836656478))
            Line((-36.6189362833, -10.3836656478), (-27.301986377, -26.521096257))
            ThreePointArc((-27.301986377, -26.521096257), (-24.7435829653, -26.7857142857), (-22.1851795535, -26.521096257))
        make_face()
        with BuildLine():
            Line((-9.3169499062, -36.9047619048), (9.3169499062, -36.9047619048))
            ThreePointArc((9.3169499062, -36.9047619048), (10.8253175473, -34.8214285714), (11.875353318, -32.4734772094))
            Line((11.875353318, -32.4734772094), (2.5584034117, -16.3360466002))
            ThreePointArc((2.5584034117, -16.3360466002), (0, -16.0714285714), (-2.5584034117, -16.3360466002))
            Line((-2.5584034117, -16.3360466002), (-11.875353318, -32.4734772094))
            ThreePointArc((-11.875353318, -32.4734772094), (-10.8253175473, -34.8214285714), (-9.3169499062, -36.9047619048))
        make_face()
        with BuildLine():
            Line((34.0605328715, -5.9523809524), (15.426633059, -5.9523809524))
            ThreePointArc((15.426633059, -5.9523809524), (13.918265418, -8.0357142857), (12.8682296473, -10.3836656478))
            Line((12.8682296473, -10.3836656478), (22.1851795535, -26.521096257))
            ThreePointArc((22.1851795535, -26.521096257), (24.7435829653, -26.7857142857), (27.301986377, -26.521096257))
            Line((27.301986377, -26.521096257), (36.6189362833, -10.3836656478))
            ThreePointArc((36.6189362833, -10.3836656478), (35.5689005126, -8.0357142857), (34.0605328715, -5.9523809524))
        make_face()
        with BuildLine():
            ThreePointArc((-12.8682296473, 10.3836656478), (-13.918265418, 8.0357142857), (-15.426633059, 5.9523809524))
            Line((-15.426633059, 5.9523809524), (-10.3098262355, 5.9523809524))
            Line((-10.3098262355, 5.9523809524), (-12.8682296473, 10.3836656478))
        make_face()
        with BuildLine():
            Line((-36.6189362833, 10.3836656478), (-39.177339695, 5.9523809524))
            Line((-39.177339695, 5.9523809524), (-34.0605328715, 5.9523809524))
            ThreePointArc((-34.0605328715, 5.9523809524), (-35.5689005126, 8.0357142857), (-36.6189362833, 10.3836656478))
        make_face()
        with BuildLine():
            Line((-15.426633059, 5.9523809524), (-34.0605328715, 5.9523809524))
            ThreePointArc((-34.0605328715, 5.9523809524), (-24.7435829653, 1.7857142857), (-15.426633059, 5.9523809524))
        make_face()
        with BuildLine():
            ThreePointArc((-27.301986377, 26.521096257), (-35.5689005126, 20.5357142857), (-36.6189362833, 10.3836656478))
            Line((-36.6189362833, 10.3836656478), (-27.301986377, 26.521096257))
        make_face()
        with BuildLine():
            ThreePointArc((-12.2435829653, 14.2857142857), (-15.0422932921, 22.1682886543), (-22.1851795535, 26.521096257))
            Line((-22.1851795535, 26.521096257), (-12.8682296473, 10.3836656478))
            ThreePointArc((-12.8682296473, 10.3836656478), (-12.4007324745, 12.3098494719), (-12.2435829653, 14.2857142857))
        make_face()
        with BuildLine():
            Line((-24.7435829653, 30.9523809524), (-27.301986377, 26.521096257))
            ThreePointArc((-27.301986377, 26.521096257), (-24.7435829653, 26.7857142857), (-22.1851795535, 26.521096257))
            Line((-22.1851795535, 26.521096257), (-24.7435829653, 30.9523809524))
        make_face()
    extrude(amount=-F4_DEPTH, mode=Mode.SUBTRACT)


solid = f1.part
